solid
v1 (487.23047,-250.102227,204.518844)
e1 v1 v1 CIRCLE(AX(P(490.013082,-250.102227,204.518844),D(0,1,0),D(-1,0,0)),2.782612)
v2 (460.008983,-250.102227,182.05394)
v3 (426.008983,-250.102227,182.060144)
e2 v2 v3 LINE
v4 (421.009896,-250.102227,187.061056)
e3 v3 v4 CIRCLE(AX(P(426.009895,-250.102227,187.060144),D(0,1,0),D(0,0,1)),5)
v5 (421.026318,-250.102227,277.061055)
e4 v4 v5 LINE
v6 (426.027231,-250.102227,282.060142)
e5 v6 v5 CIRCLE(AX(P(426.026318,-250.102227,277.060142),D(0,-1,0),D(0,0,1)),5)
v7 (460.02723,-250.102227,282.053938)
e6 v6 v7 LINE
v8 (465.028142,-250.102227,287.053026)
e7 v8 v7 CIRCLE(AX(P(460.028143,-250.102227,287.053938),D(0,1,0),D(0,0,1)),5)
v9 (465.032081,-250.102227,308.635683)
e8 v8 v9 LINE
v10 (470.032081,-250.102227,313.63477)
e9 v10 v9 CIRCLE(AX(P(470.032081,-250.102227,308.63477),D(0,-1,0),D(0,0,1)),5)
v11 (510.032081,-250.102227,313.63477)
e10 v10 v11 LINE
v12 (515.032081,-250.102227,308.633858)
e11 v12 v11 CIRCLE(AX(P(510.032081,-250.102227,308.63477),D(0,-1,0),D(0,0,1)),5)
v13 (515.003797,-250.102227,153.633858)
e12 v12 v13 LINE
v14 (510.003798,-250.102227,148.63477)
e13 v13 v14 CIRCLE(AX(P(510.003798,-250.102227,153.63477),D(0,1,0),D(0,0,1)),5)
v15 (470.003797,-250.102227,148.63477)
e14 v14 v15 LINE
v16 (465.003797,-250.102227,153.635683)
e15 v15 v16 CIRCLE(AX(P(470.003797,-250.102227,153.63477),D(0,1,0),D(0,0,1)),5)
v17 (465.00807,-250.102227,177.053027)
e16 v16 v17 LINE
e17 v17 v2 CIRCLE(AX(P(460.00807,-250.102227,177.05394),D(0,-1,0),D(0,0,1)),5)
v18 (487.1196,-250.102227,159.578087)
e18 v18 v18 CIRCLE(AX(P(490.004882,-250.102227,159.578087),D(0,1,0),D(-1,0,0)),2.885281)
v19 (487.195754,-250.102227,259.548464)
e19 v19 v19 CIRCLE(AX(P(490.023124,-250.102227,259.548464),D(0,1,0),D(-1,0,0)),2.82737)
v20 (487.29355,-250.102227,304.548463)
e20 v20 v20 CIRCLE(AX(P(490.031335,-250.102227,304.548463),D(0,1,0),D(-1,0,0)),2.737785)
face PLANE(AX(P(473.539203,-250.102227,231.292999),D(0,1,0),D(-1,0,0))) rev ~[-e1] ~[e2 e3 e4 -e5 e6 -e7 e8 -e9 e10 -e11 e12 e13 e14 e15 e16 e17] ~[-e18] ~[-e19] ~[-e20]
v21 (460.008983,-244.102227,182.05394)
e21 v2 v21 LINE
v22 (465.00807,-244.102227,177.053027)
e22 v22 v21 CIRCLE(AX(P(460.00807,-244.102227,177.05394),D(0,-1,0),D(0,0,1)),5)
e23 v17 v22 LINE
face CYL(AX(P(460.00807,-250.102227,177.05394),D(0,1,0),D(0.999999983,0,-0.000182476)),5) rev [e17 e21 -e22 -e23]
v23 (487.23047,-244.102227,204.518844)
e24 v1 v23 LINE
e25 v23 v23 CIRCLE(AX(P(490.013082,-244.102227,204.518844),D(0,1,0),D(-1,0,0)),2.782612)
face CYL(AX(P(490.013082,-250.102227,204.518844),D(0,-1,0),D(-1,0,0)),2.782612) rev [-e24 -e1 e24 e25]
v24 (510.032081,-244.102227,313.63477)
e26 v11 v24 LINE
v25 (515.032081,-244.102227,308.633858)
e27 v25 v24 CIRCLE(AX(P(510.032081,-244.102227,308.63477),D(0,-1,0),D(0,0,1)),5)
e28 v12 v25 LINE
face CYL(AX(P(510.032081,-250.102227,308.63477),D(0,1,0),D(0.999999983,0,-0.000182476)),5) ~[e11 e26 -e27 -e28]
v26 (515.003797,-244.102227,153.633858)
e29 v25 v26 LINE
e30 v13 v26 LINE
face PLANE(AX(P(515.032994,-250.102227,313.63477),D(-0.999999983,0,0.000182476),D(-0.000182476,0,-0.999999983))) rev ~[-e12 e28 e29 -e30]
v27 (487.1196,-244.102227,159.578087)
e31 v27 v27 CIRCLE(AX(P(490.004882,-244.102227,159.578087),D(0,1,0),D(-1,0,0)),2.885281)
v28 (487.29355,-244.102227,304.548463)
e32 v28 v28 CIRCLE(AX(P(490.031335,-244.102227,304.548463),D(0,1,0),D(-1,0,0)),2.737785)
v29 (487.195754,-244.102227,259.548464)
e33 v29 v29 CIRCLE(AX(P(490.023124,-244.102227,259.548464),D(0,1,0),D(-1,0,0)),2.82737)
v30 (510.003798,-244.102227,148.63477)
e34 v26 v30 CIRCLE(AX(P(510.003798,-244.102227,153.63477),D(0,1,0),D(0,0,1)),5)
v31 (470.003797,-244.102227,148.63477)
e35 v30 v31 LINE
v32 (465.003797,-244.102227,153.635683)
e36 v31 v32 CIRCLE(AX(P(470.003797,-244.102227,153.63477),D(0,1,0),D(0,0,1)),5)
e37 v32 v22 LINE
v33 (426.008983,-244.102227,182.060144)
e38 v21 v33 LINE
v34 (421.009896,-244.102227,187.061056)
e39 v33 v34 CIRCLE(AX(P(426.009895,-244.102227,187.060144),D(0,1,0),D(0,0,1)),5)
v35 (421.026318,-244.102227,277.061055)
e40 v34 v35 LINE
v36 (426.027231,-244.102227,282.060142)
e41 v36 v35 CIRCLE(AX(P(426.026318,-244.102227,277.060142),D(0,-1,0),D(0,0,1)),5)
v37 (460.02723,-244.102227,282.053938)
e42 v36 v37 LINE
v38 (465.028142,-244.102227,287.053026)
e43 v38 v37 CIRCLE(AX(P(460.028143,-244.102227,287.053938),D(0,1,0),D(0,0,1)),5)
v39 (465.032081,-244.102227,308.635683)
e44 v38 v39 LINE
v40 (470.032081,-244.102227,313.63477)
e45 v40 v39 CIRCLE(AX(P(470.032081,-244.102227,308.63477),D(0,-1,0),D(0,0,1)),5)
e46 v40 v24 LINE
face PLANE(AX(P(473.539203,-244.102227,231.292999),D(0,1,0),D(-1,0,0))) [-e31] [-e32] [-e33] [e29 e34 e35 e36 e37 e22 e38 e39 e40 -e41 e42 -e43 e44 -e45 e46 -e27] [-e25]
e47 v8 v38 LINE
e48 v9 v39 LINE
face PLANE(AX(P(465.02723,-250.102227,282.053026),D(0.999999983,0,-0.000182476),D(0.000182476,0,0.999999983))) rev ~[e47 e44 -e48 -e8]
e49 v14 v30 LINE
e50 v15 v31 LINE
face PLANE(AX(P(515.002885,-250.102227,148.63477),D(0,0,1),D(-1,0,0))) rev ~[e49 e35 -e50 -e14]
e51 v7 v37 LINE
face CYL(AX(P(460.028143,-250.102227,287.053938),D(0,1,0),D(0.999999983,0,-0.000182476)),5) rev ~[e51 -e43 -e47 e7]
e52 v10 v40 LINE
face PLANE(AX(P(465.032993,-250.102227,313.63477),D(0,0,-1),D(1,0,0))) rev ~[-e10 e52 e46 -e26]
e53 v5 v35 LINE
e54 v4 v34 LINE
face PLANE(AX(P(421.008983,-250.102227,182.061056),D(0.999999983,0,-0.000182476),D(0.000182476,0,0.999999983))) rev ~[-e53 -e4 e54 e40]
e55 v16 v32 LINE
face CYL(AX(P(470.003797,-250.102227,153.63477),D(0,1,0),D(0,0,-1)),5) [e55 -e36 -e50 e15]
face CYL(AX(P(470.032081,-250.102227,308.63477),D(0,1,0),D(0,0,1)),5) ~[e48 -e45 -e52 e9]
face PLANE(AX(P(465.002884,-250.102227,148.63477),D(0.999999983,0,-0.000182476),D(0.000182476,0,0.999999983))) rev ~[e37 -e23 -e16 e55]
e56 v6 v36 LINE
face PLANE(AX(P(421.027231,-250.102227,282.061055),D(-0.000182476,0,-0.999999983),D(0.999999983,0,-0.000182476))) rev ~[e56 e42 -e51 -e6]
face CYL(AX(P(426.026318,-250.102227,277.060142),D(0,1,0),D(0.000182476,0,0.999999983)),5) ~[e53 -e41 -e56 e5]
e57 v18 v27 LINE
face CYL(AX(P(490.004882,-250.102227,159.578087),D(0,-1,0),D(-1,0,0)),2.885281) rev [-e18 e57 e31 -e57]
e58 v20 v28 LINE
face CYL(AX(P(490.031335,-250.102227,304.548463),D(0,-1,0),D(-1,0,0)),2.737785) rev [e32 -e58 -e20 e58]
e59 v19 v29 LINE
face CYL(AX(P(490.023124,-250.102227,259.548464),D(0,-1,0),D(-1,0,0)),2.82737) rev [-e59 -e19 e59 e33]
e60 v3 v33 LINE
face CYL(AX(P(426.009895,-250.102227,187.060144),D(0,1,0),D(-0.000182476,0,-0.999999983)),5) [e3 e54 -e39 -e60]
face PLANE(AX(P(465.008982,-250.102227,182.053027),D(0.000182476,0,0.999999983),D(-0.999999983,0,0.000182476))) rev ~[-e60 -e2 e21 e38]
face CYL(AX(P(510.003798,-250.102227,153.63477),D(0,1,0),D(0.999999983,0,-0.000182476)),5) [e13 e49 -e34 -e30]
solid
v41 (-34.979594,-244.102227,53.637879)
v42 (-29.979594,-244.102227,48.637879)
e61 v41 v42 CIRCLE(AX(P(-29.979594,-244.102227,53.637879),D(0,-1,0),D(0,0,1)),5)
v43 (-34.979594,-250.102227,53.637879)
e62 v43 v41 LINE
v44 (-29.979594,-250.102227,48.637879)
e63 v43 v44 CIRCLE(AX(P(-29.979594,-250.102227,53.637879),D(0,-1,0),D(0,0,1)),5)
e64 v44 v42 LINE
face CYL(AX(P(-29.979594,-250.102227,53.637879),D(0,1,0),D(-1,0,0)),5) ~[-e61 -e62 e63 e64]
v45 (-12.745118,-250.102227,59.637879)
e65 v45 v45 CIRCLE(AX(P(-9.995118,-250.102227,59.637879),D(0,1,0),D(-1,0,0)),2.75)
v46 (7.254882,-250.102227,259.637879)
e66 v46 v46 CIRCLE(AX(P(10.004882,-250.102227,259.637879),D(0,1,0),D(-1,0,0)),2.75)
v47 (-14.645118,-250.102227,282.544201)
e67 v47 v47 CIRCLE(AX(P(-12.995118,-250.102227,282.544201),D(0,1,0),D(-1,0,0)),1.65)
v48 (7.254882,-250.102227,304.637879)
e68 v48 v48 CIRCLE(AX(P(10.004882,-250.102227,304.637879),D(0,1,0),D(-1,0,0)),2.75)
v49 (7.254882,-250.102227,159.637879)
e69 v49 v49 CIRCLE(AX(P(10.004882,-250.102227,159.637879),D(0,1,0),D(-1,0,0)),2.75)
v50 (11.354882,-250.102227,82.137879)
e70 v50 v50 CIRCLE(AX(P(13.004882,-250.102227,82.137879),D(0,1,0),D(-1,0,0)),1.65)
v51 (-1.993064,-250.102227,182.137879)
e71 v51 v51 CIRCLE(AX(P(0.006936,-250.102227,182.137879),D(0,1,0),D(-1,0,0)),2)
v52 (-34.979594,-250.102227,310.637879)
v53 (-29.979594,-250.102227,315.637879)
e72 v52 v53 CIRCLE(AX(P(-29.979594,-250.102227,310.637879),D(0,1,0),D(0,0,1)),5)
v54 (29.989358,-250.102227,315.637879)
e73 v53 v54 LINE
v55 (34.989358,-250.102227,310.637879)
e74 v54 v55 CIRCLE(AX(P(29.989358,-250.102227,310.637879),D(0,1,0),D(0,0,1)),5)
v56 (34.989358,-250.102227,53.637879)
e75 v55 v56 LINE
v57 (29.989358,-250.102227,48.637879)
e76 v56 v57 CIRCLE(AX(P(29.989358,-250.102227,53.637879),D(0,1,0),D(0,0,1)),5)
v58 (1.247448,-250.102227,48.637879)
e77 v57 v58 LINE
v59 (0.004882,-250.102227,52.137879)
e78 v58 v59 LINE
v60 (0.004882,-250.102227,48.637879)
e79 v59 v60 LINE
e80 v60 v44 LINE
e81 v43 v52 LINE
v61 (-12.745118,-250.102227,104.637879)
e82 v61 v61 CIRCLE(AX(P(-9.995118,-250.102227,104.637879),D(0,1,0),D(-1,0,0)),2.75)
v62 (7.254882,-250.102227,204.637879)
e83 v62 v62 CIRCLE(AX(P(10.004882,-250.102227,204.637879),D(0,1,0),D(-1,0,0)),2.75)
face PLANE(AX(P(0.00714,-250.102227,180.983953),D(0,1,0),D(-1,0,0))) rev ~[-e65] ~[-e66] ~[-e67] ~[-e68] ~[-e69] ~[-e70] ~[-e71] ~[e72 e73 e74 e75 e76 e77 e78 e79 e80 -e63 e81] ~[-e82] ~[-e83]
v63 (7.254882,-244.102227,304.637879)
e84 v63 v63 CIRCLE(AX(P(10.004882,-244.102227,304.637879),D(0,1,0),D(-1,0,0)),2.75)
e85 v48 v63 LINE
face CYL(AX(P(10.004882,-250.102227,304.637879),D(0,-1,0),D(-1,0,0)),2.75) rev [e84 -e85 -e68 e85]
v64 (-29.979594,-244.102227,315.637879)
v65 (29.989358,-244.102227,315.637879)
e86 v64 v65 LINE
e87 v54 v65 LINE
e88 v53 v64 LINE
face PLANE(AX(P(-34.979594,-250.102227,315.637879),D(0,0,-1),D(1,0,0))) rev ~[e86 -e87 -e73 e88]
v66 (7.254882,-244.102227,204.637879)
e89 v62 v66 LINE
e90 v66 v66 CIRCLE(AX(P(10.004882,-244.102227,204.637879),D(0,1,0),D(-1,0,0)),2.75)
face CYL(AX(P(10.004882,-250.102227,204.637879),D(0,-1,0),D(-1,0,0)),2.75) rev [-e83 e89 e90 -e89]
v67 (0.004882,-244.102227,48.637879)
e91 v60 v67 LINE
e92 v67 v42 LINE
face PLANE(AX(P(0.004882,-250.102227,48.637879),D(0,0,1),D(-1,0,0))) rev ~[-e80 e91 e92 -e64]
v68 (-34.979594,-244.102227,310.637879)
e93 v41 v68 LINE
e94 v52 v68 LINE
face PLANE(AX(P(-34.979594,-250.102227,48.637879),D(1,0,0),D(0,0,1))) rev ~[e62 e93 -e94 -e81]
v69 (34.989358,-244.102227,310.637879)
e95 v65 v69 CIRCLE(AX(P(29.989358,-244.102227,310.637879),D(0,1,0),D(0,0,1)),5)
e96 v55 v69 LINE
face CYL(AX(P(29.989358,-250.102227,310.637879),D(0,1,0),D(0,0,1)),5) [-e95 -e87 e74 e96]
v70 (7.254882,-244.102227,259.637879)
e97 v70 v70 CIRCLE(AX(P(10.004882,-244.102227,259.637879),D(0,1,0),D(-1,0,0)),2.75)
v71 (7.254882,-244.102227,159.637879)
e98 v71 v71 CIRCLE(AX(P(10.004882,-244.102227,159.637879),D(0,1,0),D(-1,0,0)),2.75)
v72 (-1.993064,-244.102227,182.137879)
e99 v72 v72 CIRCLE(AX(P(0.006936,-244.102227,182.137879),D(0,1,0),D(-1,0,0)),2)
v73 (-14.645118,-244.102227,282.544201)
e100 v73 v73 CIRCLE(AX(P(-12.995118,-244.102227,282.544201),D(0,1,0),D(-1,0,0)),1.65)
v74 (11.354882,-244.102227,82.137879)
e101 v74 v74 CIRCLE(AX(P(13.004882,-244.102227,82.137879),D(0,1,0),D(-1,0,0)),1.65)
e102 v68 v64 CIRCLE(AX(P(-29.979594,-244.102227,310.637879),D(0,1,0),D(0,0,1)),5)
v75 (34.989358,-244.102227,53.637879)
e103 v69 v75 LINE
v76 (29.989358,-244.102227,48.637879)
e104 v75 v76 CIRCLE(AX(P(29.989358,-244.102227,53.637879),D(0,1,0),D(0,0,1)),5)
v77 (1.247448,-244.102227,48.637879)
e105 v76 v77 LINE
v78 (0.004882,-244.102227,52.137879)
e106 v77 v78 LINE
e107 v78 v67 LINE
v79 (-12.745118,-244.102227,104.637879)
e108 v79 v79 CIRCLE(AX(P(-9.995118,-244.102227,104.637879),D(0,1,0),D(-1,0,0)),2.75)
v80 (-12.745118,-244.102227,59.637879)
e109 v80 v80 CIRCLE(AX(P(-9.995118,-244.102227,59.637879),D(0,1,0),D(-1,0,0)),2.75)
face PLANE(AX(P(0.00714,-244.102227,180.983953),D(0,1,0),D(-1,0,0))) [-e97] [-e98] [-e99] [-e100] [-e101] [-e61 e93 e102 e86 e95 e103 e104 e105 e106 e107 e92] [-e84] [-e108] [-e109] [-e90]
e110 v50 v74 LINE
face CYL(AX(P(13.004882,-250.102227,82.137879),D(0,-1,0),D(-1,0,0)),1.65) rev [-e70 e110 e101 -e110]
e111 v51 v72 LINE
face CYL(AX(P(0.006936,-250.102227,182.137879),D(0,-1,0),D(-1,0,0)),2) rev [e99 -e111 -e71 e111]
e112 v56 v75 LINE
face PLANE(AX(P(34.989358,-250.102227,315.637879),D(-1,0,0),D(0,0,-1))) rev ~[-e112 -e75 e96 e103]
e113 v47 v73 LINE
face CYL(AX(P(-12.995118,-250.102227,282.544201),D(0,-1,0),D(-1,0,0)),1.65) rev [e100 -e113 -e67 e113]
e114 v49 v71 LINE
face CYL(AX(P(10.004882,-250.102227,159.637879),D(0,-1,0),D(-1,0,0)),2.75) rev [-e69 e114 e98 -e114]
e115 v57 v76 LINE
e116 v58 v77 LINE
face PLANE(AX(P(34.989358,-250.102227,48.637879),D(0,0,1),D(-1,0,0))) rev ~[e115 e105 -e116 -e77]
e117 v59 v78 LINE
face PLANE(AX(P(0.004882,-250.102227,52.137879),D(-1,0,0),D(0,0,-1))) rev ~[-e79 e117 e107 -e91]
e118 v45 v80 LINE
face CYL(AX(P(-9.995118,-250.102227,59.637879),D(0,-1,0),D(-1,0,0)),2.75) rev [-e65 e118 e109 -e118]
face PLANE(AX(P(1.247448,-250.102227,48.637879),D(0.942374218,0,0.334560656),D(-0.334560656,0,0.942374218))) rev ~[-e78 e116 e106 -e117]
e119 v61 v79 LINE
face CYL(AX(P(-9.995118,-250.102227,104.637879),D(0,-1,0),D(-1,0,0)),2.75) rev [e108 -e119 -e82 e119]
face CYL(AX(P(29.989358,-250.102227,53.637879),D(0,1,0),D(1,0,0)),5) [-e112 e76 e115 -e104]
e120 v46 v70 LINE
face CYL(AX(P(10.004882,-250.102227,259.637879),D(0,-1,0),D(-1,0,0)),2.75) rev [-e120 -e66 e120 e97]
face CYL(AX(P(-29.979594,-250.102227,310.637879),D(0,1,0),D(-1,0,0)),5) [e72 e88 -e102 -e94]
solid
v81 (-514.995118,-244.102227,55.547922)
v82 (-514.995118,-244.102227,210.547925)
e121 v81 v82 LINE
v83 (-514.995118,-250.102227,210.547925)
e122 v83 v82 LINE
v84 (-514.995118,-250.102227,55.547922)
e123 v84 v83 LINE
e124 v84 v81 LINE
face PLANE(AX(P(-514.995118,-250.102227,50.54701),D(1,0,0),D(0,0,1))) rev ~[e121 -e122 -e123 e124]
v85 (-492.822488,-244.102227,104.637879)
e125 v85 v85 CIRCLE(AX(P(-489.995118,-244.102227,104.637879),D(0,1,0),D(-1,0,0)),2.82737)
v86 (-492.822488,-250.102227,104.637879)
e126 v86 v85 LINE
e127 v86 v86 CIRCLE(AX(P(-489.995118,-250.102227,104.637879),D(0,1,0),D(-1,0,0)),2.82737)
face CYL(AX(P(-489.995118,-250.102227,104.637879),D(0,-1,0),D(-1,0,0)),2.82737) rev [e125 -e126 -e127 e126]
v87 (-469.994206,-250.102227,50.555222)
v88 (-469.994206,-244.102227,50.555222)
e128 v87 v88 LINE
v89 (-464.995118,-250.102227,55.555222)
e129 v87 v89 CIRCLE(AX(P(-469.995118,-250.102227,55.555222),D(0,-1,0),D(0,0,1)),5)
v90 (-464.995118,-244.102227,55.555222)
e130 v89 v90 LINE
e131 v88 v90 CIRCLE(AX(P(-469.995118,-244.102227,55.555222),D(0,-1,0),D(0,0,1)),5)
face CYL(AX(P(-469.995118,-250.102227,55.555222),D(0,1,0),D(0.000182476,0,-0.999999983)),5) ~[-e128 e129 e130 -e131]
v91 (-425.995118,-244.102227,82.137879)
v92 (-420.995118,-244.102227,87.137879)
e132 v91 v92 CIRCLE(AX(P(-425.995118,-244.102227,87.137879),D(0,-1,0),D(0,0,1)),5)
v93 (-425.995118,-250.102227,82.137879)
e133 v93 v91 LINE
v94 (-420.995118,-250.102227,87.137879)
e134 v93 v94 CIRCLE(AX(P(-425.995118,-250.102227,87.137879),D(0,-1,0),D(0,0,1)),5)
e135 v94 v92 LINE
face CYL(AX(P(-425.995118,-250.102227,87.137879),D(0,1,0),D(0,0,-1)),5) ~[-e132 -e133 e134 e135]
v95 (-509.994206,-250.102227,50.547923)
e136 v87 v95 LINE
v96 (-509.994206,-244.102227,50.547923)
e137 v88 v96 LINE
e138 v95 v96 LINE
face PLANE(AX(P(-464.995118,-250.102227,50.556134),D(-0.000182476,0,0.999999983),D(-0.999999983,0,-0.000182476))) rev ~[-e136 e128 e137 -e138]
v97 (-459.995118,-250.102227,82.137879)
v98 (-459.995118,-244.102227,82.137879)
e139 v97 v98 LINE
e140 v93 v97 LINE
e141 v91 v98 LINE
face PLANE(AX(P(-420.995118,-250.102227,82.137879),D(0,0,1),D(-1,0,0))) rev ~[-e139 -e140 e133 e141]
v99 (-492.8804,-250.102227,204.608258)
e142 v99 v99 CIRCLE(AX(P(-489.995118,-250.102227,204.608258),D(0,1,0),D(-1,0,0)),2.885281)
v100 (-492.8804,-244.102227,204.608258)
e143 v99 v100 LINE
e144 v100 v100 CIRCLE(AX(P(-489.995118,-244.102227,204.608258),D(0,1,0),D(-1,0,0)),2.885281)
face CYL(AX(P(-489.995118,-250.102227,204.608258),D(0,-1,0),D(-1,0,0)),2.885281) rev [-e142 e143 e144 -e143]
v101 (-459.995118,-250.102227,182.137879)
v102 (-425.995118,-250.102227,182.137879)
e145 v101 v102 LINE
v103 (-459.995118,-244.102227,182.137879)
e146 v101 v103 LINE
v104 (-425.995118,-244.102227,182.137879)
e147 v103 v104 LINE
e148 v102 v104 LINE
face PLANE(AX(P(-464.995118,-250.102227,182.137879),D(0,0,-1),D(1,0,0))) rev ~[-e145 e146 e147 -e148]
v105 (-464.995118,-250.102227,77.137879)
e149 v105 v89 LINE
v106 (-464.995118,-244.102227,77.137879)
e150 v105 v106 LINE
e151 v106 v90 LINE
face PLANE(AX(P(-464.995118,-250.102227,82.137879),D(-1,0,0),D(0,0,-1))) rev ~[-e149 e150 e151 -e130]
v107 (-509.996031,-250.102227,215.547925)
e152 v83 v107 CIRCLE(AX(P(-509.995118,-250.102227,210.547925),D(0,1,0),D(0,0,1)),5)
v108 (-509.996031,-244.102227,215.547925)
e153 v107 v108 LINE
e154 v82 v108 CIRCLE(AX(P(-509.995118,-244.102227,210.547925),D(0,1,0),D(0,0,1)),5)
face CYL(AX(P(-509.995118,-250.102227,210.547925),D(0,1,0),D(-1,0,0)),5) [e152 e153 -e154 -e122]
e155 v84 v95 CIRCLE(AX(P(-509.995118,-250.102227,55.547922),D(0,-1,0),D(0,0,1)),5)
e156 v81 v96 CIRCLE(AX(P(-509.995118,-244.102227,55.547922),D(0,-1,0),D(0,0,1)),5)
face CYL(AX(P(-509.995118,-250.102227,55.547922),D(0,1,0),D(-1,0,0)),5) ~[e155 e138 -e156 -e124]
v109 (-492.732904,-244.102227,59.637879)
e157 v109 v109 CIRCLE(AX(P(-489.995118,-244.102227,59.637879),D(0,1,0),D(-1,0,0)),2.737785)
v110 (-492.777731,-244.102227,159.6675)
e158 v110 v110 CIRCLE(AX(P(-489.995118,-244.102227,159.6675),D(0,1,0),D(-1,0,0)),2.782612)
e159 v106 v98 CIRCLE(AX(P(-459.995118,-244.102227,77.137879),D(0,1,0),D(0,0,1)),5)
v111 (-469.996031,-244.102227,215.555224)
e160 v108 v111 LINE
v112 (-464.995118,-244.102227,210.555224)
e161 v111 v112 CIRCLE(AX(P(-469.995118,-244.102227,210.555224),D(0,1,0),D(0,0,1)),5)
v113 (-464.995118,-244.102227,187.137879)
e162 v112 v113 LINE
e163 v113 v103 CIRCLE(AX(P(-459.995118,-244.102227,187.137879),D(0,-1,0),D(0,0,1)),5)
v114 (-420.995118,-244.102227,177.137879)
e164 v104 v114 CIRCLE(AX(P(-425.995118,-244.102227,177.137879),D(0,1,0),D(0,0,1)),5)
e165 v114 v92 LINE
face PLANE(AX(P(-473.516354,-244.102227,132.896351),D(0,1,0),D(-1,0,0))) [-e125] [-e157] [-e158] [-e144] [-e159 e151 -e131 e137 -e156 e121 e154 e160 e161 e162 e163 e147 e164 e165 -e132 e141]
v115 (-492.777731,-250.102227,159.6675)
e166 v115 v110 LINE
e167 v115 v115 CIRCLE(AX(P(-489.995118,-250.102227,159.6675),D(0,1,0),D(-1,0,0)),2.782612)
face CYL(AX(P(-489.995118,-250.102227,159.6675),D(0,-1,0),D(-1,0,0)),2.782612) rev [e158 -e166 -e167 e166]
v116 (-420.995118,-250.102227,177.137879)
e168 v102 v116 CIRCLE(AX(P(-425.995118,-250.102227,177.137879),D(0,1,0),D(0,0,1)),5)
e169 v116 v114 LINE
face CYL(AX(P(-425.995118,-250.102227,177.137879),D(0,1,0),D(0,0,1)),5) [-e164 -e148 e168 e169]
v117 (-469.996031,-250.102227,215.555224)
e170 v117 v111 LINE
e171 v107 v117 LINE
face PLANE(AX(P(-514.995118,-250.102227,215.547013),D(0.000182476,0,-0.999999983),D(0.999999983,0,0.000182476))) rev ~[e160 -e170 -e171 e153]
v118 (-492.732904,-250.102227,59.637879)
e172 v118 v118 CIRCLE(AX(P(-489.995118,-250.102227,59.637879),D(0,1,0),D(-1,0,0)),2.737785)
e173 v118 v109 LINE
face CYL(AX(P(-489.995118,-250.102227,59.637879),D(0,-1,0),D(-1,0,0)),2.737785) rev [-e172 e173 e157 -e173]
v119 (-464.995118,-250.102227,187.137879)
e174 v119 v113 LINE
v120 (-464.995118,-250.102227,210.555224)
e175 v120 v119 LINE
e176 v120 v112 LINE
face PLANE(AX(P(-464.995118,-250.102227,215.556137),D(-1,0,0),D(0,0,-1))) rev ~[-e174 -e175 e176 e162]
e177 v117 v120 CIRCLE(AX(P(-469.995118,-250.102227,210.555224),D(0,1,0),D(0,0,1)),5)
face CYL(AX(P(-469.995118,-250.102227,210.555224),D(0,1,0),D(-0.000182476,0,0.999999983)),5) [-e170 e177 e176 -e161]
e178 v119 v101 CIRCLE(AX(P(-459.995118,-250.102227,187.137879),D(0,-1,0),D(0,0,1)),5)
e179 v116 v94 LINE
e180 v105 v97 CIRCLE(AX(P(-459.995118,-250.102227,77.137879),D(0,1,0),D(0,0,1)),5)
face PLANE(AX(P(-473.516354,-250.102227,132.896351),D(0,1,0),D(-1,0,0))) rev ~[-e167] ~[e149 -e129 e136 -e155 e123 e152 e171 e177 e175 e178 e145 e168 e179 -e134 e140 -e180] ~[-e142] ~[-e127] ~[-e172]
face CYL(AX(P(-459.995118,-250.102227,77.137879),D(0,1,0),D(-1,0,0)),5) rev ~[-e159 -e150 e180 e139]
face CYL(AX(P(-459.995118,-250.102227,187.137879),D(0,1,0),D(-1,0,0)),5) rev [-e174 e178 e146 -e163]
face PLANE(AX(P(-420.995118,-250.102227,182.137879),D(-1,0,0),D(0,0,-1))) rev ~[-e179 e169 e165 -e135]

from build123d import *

# Parameters (mm, degrees)
SKETCH3_R             = 1.65
SKETCH3_R_2           = 2.750000008
SKETCH3_R_3           = 2.75000001
SKETCH3_R_4           = 2.750000011
SKETCH3_R_5           = 2
SKETCH3_R_6           = 1.650000009
BOSS_EXTRUDE1_DEPTH   = 6
SKETCH3_R_7           = 2.737785329
SKETCH3_R_8           = 2.827370138
SKETCH3_R_9           = 2.782612344
SKETCH3_R_10          = 2.88528129
BOSS_EXTRUDE1_2_DEPTH = 6
BOSS_EXTRUDE1_3_DEPTH = 6
FILLET1_R             = 5
FILLET2_R             = 5
FILLET3_R             = 5


with BuildPart() as part:
    # Sketch3 → Boss-Extrude1 (new body)
    with BuildSketch(Plane(origin=(0, -250.102226831, 0), x_dir=(-1, 0, 0), z_dir=(0, 1, 0))):
        Polygon((34.97959429, 48.637879031), (34.97959429, 315.637879023), (-34.989357732, 315.637879023), (-34.989357732, 48.637879031), (-1.247447862, 48.637879031), (-0.004881721, 52.137879031), (-0.004881721, 48.637879031), align=None)
        with Locations((-13.004881721, 82.137879031)):
            Circle(SKETCH3_R, mode=Mode.SUBTRACT)
        with Locations((-10.004881721, 159.637879023)):
            Circle(SKETCH3_R_2, mode=Mode.SUBTRACT)
        with Locations((-10.004881721, 204.637879023)):
            Circle(SKETCH3_R_2, mode=Mode.SUBTRACT)
        with Locations((-10.004881721, 259.637879023)):
            Circle(SKETCH3_R_3, mode=Mode.SUBTRACT)
        with Locations((-10.004881721, 304.637879023)):
            Circle(SKETCH3_R_4, mode=Mode.SUBTRACT)
        with Locations((9.995118279, 59.637879031)):
            Circle(SKETCH3_R_2, mode=Mode.SUBTRACT)
        with Locations((9.995118279, 104.637879031)):
            Circle(SKETCH3_R_2, mode=Mode.SUBTRACT)
        with Locations((-0.006935953, 182.137879031)):
            Circle(SKETCH3_R_5, mode=Mode.SUBTRACT)
        with Locations((12.995118279, 282.544201287)):
            Circle(SKETCH3_R_6, mode=Mode.SUBTRACT)
    extrude(amount=BOSS_EXTRUDE1_DEPTH)

    # Fillet3
    fillet3_edges = [part.edges().sort_by_distance(p)[0] for p in [
        (34.989357732, -247.102226831, 48.637879031),
        (34.989357732, -247.102226831, 315.637879023),
        (-34.97959429, -247.102226831, 315.637879023),
        (-34.97959429, -247.102226831, 48.637879031),
    ]]
    fillet(fillet3_edges, radius=FILLET3_R)


with BuildPart() as body_2:
    # Sketch3 → Boss-Extrude1 2 (new body)
    with BuildSketch(Plane(origin=(0, -250.102226831, 0), x_dir=(-1, 0, 0), z_dir=(0, 1, 0))):
        Polygon((514.995118279, 50.547010025), (514.995118279, 215.547012772), (464.995118279, 215.556136576), (464.995118279, 182.137879031), (420.995118279, 182.137879031), (420.995118279, 82.137879031), (464.995118279, 82.137879031), (464.995118279, 50.556133829), align=None)
        with Locations((489.995118279, 59.637879031)):
            Circle(SKETCH3_R_7, mode=Mode.SUBTRACT)
        with Locations((489.995118279, 104.637879031)):
            Circle(SKETCH3_R_8, mode=Mode.SUBTRACT)
        with Locations((489.995118279, 159.667500187)):
            Circle(SKETCH3_R_9, mode=Mode.SUBTRACT)
        with Locations((489.995118279, 204.608257859)):
            Circle(SKETCH3_R_10, mode=Mode.SUBTRACT)
    extrude(amount=BOSS_EXTRUDE1_2_DEPTH)

    # Fillet1
    fillet1_edges = [body_2.edges().sort_by_distance(p)[0] for p in [
        (-514.995118279, -247.102226831, 215.547012772),
        (-514.995118279, -247.102226831, 50.547010025),
        (-464.995118279, -247.102226831, 50.556133829),
        (-464.995118279, -247.102226831, 82.137879031),
        (-420.995118279, -247.102226831, 82.137879031),
        (-420.995118279, -247.102226831, 182.137879031),
        (-464.995118279, -247.102226831, 182.137879031),
        (-464.995118279, -247.102226831, 215.556136576),
    ]]
    fillet(fillet1_edges, radius=FILLET1_R)


with BuildPart() as body_3:
    # Sketch3 → Boss-Extrude1 3 (new body)
    with BuildSketch(Plane(origin=(0, -250.102226831, 0), x_dir=(-1, 0, 0), z_dir=(0, 1, 0))):
        Polygon((-515.032993798, 313.634770287), (-515.002885243, 148.634770287), (-465.002884411, 148.634770287), (-465.008982444, 182.053027276), (-421.008983176, 182.061056224), (-421.027230785, 282.061054559), (-465.027230052, 282.053025611), (-465.032992966, 313.634770287), align=None)
        with Locations((-490.004881721, 159.57808692)):
            Circle(SKETCH3_R_10, mode=Mode.SUBTRACT)
        with Locations((-490.013082334, 204.518843844)):
            Circle(SKETCH3_R_9, mode=Mode.SUBTRACT)
        with Locations((-490.023123924, 259.548464084)):
            Circle(SKETCH3_R_8, mode=Mode.SUBTRACT)
        with Locations((-490.031335348, 304.548463334)):
            Circle(SKETCH3_R_7, mode=Mode.SUBTRACT)
    extrude(amount=BOSS_EXTRUDE1_3_DEPTH)

    # Fillet2
    fillet2_edges = [body_3.edges().sort_by_distance(p)[0] for p in [
        (465.008982444, -247.102226831, 182.053027276),
        (465.002884411, -247.102226831, 148.634770287),
        (515.002885243, -247.102226831, 148.634770287),
        (515.032993798, -247.102226831, 313.634770287),
        (465.032992966, -247.102226831, 313.634770287),
        (465.027230052, -247.102226831, 282.053025611),
        (421.027230785, -247.102226831, 282.061054559),
        (421.008983176, -247.102226831, 182.061056224),
    ]]
    fillet(fillet2_edges, radius=FILLET2_R)


solid = Compound([part.part, body_2.part, body_3.part])
